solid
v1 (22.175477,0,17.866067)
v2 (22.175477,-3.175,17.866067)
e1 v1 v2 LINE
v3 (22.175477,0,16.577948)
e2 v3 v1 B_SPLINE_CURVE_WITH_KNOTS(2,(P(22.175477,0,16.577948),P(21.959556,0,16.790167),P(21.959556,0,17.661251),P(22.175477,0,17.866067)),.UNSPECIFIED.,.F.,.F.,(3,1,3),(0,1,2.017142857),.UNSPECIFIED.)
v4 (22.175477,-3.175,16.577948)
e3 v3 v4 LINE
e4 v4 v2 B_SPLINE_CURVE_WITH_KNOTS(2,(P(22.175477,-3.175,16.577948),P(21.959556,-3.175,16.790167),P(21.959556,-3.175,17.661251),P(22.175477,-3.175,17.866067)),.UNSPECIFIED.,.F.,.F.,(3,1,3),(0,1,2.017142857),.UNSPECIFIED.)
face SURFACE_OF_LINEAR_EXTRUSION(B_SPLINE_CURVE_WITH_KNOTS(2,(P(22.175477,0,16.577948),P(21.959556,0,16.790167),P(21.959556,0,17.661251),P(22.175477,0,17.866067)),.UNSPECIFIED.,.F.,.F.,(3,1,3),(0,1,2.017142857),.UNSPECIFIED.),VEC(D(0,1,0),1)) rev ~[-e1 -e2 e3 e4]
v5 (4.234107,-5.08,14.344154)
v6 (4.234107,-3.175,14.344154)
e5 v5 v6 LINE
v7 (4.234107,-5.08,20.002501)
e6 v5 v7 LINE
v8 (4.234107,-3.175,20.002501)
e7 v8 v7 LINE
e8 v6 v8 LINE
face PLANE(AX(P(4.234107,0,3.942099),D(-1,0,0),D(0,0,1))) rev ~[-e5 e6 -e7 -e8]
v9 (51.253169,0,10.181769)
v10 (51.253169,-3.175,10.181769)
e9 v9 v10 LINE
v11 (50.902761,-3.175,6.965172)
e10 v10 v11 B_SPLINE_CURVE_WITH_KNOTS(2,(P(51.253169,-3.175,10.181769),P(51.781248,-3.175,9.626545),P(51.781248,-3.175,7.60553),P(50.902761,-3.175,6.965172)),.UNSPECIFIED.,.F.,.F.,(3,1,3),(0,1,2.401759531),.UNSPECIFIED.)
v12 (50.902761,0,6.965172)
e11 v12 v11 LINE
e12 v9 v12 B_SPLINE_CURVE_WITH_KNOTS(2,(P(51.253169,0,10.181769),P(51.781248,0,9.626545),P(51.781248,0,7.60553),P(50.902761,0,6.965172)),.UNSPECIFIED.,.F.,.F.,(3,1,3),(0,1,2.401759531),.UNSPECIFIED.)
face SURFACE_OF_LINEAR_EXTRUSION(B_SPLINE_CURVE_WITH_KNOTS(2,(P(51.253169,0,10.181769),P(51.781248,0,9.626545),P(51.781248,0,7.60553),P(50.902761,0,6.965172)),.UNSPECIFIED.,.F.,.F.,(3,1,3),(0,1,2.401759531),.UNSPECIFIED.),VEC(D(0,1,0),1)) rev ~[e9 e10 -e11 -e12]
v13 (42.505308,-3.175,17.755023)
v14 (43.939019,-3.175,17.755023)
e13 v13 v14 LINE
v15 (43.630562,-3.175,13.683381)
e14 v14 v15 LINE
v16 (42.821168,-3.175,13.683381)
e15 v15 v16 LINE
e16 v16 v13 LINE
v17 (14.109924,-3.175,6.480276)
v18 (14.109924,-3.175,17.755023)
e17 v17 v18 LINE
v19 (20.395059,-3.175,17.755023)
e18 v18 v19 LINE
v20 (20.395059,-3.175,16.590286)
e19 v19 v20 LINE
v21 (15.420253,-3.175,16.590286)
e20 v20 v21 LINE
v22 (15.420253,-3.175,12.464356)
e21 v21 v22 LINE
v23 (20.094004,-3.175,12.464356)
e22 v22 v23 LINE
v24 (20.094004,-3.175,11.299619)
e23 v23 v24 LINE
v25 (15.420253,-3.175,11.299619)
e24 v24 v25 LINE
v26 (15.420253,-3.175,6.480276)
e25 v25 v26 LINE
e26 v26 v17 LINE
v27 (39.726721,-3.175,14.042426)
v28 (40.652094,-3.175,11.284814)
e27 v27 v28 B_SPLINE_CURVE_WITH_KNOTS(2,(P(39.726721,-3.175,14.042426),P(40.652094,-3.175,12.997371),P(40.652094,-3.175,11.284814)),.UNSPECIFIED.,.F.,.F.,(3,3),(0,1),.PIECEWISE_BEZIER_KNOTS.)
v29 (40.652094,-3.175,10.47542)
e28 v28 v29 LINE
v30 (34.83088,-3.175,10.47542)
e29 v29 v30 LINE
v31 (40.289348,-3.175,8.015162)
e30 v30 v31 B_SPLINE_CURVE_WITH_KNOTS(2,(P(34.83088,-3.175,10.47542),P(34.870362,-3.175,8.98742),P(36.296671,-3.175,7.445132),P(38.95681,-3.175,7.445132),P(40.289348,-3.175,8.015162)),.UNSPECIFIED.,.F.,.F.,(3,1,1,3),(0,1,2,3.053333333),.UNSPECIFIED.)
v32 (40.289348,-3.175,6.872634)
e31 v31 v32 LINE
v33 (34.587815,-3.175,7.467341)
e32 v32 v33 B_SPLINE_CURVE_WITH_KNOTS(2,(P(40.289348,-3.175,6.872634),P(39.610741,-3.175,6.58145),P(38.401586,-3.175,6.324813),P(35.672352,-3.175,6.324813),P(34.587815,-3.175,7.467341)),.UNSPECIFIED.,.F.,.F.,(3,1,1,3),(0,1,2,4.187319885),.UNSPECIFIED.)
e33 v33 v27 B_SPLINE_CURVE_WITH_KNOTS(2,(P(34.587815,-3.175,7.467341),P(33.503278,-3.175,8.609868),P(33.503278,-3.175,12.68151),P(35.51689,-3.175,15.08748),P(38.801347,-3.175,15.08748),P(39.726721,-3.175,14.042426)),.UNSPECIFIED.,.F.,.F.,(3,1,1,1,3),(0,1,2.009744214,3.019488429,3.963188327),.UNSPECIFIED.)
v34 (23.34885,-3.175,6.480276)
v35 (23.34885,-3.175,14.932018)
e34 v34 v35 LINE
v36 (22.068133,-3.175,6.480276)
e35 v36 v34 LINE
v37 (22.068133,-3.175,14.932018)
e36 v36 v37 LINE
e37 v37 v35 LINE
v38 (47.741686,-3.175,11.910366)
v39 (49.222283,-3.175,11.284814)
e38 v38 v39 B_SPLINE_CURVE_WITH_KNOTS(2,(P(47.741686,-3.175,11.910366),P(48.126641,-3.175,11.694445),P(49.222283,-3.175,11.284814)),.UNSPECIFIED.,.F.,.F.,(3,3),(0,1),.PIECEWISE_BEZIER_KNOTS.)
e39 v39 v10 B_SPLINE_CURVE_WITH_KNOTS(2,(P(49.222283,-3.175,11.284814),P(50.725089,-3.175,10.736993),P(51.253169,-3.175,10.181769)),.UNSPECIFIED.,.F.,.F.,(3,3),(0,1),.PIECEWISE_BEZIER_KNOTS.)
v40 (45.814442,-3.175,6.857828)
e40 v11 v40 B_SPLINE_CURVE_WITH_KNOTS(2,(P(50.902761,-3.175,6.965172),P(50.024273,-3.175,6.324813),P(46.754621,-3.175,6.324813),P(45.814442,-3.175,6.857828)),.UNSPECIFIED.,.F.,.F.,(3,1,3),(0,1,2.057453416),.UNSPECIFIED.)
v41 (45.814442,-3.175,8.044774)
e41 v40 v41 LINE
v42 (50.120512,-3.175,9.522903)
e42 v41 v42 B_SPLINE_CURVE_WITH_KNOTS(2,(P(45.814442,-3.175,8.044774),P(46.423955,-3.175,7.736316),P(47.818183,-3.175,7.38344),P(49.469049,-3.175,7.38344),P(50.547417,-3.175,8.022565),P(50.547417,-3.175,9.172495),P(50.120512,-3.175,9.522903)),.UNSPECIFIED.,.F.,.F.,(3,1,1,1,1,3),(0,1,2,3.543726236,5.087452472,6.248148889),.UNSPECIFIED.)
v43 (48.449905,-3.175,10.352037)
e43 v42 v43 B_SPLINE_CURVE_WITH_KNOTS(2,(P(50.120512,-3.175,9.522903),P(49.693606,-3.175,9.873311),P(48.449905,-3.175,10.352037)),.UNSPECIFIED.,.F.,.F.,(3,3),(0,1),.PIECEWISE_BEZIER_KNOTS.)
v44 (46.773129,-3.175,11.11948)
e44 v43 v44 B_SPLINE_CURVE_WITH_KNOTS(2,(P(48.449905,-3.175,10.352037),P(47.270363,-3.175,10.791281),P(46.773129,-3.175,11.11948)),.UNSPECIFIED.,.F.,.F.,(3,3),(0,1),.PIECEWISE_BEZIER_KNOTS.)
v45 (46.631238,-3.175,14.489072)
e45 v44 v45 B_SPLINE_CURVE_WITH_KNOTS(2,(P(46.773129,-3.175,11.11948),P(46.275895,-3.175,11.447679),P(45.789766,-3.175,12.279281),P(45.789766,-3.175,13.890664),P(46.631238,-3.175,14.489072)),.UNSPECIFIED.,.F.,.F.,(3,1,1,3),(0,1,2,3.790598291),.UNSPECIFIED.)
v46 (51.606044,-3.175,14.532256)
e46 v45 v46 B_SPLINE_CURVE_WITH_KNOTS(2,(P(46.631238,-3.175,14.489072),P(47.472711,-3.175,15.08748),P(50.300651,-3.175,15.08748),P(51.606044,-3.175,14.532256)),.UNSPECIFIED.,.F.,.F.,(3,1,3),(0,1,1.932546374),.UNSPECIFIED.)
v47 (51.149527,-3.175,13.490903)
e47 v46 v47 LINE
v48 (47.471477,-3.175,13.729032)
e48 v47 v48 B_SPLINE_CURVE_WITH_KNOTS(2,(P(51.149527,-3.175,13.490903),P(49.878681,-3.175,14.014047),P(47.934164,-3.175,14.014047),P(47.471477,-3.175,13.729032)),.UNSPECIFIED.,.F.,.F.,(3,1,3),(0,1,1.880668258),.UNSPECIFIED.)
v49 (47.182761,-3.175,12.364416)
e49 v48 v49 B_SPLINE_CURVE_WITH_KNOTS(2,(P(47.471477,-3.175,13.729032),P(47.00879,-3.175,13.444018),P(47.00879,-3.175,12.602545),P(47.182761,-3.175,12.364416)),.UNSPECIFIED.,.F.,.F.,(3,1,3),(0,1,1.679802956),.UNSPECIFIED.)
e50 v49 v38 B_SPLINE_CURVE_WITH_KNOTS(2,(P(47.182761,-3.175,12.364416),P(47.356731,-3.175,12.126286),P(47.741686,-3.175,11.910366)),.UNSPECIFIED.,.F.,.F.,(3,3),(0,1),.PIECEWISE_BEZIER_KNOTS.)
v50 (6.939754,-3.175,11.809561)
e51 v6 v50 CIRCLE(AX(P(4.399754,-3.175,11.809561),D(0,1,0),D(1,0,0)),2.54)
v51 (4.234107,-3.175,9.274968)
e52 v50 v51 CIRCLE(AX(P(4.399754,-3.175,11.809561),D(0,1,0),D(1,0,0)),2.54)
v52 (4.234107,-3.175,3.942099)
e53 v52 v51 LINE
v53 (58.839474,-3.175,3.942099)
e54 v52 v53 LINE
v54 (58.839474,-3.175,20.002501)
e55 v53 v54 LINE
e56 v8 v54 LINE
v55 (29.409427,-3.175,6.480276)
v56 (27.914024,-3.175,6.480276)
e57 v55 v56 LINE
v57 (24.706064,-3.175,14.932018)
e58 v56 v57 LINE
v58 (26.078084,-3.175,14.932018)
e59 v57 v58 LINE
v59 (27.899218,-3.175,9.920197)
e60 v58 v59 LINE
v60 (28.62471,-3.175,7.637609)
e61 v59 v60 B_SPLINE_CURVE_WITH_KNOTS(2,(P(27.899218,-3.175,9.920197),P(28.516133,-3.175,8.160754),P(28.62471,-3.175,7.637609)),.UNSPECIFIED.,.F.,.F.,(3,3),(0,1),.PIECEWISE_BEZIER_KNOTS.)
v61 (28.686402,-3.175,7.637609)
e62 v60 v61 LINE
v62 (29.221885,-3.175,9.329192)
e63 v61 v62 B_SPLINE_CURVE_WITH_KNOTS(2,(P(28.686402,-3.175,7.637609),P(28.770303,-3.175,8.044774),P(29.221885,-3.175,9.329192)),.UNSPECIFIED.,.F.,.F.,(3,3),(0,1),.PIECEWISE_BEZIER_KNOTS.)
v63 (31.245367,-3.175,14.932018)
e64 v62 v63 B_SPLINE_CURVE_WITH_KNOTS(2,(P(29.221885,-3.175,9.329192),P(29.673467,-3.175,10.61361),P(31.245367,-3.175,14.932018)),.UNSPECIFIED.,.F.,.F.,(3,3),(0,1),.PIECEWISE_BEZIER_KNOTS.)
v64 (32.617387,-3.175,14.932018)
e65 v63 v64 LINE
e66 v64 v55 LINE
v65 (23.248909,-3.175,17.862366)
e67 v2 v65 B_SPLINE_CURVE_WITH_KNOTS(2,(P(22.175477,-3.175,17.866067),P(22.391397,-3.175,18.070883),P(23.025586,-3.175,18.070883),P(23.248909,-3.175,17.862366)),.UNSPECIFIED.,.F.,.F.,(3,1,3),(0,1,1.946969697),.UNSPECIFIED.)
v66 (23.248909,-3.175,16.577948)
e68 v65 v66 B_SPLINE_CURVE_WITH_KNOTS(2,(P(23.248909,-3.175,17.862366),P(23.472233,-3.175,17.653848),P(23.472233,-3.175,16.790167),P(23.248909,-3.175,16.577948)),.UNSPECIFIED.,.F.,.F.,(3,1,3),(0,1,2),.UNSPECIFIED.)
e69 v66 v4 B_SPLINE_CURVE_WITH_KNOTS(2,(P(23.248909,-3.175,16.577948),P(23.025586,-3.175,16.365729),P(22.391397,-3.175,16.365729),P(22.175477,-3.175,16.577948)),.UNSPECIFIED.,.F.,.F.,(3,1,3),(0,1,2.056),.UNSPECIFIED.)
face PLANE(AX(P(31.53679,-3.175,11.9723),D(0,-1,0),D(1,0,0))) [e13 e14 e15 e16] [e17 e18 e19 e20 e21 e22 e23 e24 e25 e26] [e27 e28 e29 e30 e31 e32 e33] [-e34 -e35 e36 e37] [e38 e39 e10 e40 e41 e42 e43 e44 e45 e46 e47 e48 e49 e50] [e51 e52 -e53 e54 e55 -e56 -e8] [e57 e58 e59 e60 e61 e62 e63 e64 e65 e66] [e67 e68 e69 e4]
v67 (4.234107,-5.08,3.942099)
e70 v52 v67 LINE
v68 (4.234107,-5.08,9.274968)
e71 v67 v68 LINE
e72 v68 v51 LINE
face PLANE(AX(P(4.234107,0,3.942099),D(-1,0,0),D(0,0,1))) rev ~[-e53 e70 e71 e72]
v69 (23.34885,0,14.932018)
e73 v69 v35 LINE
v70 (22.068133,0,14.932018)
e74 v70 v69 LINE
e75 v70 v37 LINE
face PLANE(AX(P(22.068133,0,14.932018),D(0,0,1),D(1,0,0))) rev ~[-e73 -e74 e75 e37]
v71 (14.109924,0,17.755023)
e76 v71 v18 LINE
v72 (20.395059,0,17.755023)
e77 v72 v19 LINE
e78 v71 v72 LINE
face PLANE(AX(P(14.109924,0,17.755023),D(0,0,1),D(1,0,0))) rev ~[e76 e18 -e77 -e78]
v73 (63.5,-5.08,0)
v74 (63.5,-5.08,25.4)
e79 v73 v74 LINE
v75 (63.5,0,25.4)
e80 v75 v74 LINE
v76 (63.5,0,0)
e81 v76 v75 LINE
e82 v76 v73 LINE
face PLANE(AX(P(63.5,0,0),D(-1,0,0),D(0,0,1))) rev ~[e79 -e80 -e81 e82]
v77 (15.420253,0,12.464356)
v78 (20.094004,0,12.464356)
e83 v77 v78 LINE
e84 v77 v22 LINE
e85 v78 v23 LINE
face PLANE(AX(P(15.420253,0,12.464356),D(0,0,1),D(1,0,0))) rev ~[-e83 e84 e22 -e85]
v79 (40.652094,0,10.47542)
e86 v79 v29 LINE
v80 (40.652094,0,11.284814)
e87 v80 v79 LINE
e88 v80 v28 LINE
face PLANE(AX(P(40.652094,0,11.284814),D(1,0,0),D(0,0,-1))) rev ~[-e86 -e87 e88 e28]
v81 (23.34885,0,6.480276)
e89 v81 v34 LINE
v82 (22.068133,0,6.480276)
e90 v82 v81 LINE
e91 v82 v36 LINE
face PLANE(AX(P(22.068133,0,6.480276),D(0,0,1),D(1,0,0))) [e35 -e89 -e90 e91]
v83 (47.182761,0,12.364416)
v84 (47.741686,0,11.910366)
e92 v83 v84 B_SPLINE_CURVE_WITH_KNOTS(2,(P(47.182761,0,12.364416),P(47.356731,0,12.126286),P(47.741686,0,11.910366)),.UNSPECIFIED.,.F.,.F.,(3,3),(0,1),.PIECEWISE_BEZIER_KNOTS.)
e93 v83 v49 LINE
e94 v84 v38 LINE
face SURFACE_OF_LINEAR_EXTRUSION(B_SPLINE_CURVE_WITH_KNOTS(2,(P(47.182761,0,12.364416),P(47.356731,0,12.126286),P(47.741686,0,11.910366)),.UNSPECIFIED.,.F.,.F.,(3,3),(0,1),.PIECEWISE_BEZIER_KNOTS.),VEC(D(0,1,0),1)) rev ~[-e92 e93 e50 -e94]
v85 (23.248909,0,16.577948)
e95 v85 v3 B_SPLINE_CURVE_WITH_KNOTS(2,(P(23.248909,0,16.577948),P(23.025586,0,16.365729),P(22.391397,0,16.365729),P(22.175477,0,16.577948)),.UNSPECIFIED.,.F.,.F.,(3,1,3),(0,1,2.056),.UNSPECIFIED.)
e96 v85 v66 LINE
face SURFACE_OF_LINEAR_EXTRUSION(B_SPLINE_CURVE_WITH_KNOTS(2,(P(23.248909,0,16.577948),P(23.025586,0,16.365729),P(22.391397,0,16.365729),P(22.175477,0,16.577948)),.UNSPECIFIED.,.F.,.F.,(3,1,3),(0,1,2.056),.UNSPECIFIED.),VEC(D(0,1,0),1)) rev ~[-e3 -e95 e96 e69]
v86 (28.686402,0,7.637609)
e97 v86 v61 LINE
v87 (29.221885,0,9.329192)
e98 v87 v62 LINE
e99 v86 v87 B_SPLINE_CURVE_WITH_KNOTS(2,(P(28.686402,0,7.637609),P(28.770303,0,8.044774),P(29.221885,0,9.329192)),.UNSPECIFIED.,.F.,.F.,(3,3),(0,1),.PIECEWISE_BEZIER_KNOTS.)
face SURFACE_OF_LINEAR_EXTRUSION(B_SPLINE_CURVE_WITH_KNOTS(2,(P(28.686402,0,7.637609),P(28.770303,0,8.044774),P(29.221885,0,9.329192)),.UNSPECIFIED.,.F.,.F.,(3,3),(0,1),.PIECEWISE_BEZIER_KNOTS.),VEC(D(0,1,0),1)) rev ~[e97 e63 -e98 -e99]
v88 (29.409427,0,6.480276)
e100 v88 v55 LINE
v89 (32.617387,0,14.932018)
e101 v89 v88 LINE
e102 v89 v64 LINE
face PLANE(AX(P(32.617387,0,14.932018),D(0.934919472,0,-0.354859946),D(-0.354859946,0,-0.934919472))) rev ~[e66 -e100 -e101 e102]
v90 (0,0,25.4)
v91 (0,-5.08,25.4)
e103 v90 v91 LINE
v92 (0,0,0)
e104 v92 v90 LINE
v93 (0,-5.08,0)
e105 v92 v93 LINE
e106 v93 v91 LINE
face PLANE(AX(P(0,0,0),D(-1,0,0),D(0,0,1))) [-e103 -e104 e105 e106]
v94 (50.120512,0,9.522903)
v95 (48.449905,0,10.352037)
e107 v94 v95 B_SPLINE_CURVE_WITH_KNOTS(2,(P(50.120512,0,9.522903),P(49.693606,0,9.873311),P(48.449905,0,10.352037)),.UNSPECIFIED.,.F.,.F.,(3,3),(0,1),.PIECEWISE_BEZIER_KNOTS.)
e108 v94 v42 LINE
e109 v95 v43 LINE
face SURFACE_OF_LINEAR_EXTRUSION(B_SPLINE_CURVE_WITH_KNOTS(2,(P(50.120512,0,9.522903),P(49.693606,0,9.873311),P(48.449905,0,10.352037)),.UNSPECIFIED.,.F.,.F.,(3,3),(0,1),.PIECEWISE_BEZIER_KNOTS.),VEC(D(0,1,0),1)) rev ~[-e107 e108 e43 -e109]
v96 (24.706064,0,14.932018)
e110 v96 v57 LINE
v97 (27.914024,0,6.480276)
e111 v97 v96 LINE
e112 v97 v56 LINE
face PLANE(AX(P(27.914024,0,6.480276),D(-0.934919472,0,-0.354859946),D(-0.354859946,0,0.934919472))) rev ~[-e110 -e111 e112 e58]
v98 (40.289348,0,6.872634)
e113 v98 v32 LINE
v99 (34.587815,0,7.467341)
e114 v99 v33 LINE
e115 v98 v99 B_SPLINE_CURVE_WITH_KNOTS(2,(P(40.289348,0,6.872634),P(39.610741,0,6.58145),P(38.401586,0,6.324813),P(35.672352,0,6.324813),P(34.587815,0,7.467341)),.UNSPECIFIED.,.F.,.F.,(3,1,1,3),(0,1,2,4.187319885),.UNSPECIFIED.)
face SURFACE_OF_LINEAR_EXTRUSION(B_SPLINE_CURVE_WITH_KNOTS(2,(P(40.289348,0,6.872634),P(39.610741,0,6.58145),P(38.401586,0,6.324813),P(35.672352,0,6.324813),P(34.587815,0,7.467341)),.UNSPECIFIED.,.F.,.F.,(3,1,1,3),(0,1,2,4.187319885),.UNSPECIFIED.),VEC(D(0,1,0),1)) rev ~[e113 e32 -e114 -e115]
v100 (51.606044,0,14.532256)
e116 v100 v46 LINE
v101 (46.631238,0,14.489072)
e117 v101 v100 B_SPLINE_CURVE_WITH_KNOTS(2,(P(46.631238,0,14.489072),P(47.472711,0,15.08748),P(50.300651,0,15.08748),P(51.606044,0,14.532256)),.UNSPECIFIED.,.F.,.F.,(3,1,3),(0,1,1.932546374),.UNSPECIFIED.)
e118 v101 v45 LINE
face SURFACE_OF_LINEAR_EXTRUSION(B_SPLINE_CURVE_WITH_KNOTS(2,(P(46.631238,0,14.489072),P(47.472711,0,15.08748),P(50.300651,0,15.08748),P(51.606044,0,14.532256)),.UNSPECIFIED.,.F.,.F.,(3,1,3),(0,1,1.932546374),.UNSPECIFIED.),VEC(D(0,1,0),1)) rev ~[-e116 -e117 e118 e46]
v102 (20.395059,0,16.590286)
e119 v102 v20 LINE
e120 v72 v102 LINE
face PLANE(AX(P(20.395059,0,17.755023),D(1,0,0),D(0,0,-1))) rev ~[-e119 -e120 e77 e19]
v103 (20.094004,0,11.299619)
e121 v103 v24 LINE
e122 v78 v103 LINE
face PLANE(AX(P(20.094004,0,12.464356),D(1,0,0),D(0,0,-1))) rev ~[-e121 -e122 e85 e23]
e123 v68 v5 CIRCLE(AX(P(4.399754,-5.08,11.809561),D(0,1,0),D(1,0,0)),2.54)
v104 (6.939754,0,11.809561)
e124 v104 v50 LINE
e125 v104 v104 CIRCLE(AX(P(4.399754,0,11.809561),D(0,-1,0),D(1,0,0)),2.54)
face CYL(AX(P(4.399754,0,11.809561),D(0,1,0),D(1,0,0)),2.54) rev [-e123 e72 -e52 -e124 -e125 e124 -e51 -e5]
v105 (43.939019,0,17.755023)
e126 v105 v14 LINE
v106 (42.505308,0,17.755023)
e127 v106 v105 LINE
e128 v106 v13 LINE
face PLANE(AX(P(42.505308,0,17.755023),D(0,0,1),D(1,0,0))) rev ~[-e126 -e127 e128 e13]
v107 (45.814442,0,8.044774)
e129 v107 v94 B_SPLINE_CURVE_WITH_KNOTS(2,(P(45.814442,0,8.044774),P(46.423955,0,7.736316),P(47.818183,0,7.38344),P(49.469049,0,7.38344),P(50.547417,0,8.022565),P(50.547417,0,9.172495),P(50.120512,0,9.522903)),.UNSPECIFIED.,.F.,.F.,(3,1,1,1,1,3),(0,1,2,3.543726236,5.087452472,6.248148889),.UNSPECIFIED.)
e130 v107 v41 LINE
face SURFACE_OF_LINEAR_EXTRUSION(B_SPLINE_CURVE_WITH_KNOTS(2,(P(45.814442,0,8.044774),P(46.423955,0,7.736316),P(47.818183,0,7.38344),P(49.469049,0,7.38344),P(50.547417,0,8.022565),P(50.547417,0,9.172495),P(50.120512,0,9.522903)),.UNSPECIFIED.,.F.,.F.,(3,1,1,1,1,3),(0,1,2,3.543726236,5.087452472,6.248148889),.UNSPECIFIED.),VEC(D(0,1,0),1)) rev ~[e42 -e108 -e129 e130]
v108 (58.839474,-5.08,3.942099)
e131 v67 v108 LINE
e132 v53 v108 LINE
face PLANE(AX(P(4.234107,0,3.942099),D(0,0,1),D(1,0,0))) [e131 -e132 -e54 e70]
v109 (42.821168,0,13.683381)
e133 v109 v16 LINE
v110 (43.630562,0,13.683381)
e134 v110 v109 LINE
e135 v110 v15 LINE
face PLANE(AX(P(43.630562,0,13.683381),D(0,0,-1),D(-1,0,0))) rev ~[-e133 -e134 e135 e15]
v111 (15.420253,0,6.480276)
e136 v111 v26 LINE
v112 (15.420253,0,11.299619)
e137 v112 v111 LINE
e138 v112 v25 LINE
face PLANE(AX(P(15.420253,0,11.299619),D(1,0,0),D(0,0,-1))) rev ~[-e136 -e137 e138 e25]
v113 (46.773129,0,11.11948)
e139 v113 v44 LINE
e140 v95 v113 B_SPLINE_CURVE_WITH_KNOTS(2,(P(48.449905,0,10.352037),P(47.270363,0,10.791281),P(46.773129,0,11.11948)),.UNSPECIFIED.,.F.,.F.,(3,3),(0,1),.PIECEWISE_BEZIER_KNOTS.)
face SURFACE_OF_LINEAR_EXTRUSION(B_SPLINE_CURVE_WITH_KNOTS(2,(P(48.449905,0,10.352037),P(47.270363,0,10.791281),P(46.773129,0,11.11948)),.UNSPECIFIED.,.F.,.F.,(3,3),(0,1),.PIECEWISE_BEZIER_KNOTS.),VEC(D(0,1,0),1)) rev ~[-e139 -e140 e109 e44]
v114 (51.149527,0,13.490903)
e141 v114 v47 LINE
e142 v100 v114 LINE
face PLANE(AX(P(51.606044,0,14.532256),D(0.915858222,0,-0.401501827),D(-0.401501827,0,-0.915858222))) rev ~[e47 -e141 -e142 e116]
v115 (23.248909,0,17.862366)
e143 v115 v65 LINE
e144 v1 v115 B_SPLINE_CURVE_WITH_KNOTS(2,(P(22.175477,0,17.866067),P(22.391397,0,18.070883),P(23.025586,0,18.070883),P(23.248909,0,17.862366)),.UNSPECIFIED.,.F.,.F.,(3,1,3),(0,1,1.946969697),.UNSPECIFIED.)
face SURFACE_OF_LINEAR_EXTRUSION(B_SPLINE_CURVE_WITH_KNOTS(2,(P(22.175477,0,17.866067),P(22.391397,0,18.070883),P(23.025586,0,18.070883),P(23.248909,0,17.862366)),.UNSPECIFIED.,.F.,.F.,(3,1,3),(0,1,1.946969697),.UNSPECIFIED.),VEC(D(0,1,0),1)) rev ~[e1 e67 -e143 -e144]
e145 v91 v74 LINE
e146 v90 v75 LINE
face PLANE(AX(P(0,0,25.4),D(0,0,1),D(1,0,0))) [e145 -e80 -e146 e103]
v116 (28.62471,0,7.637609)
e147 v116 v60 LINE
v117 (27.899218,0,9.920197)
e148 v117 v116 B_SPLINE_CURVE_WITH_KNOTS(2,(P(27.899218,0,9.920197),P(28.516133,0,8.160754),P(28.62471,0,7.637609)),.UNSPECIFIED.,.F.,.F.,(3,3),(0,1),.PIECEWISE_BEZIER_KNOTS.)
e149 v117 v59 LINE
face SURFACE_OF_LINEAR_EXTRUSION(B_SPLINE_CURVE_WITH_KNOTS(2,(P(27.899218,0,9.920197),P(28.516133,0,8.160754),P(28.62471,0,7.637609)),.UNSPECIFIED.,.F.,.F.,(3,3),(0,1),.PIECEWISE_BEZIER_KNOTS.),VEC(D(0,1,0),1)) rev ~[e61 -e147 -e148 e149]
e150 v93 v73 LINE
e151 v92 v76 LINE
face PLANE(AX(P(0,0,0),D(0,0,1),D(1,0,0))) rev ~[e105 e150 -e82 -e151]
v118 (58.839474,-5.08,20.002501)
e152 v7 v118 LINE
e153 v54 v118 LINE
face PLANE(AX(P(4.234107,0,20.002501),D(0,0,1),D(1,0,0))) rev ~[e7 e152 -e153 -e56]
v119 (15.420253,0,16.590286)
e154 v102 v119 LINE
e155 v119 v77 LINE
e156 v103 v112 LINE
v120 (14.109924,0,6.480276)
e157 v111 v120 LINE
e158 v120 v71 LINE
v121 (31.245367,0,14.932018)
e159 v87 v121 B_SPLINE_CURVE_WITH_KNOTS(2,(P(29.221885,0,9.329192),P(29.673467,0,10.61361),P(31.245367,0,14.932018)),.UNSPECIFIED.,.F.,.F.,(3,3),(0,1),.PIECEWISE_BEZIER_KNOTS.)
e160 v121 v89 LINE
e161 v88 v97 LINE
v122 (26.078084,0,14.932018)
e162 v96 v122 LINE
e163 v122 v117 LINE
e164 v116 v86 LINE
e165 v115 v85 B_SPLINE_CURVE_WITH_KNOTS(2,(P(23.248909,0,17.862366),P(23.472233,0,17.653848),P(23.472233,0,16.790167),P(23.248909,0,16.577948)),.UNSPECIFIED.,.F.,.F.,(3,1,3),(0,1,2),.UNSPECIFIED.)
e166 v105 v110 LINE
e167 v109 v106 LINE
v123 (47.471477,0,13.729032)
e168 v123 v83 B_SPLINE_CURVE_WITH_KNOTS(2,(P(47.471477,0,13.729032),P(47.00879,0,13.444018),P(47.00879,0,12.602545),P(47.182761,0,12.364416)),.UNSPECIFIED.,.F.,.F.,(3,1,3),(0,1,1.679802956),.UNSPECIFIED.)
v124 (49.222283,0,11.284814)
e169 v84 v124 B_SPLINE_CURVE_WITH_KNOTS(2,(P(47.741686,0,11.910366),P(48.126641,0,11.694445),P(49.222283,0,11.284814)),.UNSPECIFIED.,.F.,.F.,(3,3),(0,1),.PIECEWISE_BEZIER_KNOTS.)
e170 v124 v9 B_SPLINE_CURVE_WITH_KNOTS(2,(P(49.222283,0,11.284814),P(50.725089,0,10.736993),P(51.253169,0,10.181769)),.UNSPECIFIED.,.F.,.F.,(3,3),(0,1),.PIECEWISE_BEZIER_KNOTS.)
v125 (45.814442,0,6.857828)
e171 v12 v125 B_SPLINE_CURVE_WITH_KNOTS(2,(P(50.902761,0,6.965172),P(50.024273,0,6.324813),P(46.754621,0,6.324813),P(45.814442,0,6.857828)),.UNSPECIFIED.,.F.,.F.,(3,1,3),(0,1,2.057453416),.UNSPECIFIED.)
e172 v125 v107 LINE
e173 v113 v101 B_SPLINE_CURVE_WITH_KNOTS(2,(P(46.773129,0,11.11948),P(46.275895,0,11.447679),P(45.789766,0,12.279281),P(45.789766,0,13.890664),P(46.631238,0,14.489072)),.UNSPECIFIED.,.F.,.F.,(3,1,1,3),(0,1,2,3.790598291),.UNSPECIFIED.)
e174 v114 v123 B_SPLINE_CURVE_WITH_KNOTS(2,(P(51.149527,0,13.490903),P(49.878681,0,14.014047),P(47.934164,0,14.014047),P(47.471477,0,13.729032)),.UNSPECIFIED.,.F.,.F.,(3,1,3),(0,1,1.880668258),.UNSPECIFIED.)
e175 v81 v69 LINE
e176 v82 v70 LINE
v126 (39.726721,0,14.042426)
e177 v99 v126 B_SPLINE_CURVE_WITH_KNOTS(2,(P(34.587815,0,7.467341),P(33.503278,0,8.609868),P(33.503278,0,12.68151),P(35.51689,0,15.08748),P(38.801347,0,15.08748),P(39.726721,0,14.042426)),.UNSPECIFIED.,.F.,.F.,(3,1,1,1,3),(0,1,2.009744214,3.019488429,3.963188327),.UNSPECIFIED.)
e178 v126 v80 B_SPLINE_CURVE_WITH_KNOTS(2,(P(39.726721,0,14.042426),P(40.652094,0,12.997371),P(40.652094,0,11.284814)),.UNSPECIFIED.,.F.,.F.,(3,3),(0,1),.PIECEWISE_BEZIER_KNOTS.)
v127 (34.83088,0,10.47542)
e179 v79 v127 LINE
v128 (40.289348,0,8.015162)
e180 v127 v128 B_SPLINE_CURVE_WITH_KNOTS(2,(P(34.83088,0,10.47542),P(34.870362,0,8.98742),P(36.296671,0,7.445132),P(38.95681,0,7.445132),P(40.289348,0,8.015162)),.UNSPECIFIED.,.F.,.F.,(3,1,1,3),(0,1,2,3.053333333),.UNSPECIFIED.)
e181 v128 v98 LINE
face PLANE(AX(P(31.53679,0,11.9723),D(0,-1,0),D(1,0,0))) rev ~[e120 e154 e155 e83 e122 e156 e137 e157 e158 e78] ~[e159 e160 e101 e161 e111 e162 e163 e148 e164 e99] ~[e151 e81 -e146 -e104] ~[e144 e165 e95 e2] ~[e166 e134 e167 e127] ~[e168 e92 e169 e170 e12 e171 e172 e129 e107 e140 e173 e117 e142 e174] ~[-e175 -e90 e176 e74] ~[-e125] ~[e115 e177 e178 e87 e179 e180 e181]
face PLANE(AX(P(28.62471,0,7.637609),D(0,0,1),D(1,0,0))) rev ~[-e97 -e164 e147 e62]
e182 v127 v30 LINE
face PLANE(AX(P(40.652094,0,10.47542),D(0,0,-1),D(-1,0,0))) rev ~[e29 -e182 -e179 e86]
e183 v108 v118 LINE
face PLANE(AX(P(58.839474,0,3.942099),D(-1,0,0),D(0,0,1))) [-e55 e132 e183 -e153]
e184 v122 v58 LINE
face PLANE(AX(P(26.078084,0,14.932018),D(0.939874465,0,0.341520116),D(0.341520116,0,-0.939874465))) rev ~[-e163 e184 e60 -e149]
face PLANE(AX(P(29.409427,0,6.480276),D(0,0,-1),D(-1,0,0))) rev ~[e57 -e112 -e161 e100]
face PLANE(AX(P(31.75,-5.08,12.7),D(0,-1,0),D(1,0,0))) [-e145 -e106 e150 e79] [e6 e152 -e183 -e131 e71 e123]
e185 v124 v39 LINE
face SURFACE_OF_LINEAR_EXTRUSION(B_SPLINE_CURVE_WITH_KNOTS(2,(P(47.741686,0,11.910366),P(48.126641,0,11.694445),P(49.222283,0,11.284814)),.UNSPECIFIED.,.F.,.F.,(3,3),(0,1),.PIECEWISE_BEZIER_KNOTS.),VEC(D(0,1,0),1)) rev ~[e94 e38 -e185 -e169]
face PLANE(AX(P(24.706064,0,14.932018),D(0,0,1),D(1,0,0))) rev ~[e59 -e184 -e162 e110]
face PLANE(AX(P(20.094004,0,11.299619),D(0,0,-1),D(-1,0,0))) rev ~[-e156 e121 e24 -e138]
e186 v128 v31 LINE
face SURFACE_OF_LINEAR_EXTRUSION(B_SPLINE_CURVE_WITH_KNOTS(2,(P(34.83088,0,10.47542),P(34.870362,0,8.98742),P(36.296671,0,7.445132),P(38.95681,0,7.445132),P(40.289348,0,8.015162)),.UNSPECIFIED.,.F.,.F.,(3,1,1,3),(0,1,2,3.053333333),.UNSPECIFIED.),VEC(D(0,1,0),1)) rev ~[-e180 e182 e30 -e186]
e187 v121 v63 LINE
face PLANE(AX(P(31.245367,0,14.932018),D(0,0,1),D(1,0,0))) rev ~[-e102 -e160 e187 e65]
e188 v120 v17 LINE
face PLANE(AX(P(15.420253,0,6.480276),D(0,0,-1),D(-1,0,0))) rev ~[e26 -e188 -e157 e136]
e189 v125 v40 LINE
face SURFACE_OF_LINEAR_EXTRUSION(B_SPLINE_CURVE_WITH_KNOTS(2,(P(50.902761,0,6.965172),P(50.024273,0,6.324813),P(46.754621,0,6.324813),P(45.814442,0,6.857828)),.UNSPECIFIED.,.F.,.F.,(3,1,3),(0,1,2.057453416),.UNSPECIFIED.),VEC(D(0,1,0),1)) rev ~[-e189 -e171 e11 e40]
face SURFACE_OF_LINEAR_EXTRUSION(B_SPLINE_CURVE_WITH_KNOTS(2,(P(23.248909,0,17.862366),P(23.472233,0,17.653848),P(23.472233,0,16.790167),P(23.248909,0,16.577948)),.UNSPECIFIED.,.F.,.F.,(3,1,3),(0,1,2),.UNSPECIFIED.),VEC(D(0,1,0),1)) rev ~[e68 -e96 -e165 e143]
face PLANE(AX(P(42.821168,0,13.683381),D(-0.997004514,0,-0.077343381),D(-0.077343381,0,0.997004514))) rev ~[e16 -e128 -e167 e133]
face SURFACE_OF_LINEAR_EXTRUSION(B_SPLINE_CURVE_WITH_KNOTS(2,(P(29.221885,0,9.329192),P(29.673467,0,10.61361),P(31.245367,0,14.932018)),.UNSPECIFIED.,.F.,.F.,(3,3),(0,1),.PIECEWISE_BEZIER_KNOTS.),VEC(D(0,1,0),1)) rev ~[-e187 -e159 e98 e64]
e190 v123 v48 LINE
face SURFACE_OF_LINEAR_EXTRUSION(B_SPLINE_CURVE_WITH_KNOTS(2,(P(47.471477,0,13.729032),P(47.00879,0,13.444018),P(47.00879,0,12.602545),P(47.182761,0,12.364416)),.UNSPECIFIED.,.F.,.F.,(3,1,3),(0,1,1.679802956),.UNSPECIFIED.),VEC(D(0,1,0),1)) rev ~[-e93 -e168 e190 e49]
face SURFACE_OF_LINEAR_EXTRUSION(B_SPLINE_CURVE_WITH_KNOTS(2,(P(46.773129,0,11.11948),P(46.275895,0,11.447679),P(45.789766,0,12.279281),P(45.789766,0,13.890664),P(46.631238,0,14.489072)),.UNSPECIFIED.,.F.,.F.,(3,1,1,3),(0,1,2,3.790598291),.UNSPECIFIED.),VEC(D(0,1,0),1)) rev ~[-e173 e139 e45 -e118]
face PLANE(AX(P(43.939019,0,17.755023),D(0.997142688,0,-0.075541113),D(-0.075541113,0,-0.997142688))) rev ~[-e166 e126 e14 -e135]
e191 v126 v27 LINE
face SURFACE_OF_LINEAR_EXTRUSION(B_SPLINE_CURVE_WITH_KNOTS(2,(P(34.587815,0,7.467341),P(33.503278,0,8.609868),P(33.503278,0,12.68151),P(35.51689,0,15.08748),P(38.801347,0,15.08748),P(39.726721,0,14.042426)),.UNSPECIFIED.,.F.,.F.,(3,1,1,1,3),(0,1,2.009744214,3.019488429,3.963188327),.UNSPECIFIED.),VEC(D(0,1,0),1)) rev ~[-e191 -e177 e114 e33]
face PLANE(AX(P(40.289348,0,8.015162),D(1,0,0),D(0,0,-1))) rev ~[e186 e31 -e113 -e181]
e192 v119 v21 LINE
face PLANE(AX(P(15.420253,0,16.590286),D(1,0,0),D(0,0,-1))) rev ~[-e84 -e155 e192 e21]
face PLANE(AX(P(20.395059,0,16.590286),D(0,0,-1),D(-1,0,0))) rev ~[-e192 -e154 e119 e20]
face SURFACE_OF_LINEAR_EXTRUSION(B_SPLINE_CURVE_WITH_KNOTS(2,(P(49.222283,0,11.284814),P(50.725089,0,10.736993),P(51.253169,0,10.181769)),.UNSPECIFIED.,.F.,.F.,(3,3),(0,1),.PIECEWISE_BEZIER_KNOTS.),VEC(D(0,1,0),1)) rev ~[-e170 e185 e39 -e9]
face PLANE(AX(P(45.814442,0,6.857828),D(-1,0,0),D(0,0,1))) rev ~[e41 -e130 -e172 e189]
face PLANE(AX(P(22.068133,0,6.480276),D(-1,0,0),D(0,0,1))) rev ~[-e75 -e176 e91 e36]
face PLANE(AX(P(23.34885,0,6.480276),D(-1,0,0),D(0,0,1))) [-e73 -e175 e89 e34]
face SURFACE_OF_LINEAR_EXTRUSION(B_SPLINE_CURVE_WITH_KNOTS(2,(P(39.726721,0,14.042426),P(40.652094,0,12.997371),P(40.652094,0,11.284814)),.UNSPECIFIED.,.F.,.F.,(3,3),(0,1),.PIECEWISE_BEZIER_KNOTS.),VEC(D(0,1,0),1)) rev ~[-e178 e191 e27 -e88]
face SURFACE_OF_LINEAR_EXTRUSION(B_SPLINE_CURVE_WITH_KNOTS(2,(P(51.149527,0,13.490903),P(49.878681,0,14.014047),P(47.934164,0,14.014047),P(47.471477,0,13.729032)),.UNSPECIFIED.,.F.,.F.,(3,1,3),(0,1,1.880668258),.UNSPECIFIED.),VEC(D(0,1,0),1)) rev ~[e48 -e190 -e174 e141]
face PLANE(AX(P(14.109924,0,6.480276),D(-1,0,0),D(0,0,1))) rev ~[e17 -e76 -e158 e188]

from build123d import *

# Parameters (mm, degrees)
F0_W     = 63.5
F0_H     = 25.4
F0_W_2   = 54.6053671278
F0_H_2   = 16.0604021512
F1_DEPTH = 5.08
F0_W_3   = 1.2807164436
F0_H_3   = 8.4517414633
F2_DEPTH = 3.175
F3_R     = 2.54
F4_DEPTH = 25.4
F5_DEPTH = 3.175


with BuildPart() as f1:
    # F0 (on Front) → F1 (new body)
    with BuildSketch(Plane.XZ):
        with Locations((31.75, 12.7)):
            Rectangle(F0_W, F0_H)
        with Locations((31.5367903095, 11.9723000098)):
            Rectangle(F0_W_2, F0_H_2, mode=Mode.SUBTRACT)
    extrude(amount=F1_DEPTH)

    # F0 (on Front) → F2 (join)
    with BuildSketch(Plane.XZ):
        with Locations((31.5367903095, 11.9723000098)):
            Rectangle(F0_W_2, F0_H_2)
        with Locations((22.7084914528, 10.7061468506)):
            Rectangle(F0_W_3, F0_H_3, mode=Mode.SUBTRACT)
        Polygon((15.4202525004, 11.2996194994), (15.4202525004, 6.480276119), (14.1099241159, 6.480276119), (14.1099241159, 17.7550226141), (20.3950585705, 17.7550226141), (20.3950585705, 16.5902862723), (15.4202525004, 16.5902862723), (15.4202525004, 12.4643558412), (20.0940038381, 12.4643558412), (20.0940038381, 11.2996194994), align=None, mode=Mode.SUBTRACT)
        with BuildLine():
            Line((29.4094269108, 6.480276119), (27.9140238957, 6.480276119))
            Line((27.9140238957, 6.480276119), (24.7060636322, 14.9320175823))
            Line((24.7060636322, 14.9320175823), (26.0780835603, 14.9320175823))
            Line((26.0780835603, 14.9320175823), (27.8992179252, 9.9201965861))
            add(Edge.make_bspline(
                [(27.8992179252, 9.9201965861), (28.5161333605, 8.1607537647), (28.6247104771, 7.6376094755)],
                knots=[0, 0, 0, 1, 1, 1], degree=2))
            Line((28.6247104771, 7.6376094755), (28.6864020207, 7.6376094755))
            add(Edge.make_bspline(
                [(28.6864020207, 7.6376094755), (28.7703025199, 8.0447736628), (29.2218846185, 9.3291915991)],
                knots=[0, 0, 0, 1, 1, 1], degree=2))
            add(Edge.make_bspline(
                [(29.2218846185, 9.3291915991), (29.6734667171, 10.6136095353), (31.2453672462, 14.9320175823)],
                knots=[0, 0, 0, 1, 1, 1], degree=2))
            Line((31.2453672462, 14.9320175823), (32.6173871743, 14.9320175823))
            Line((32.6173871743, 14.9320175823), (29.4094269108, 6.480276119))
        make_face(mode=Mode.SUBTRACT)
        with BuildLine():
            add(Edge.make_bspline(
                [(39.006163422, 6.4531318398), (38.4015862954, 6.3248134293), (37.5453076713, 6.3248134293)],
                knots=[0, 0, 0, 1, 1, 1], degree=2))
            add(Edge.make_bspline(
                [(37.5453076713, 6.3248134293), (35.6723524098, 6.3248134293), (34.5878150745, 7.4673408154)],
                knots=[0, 0, 0, 1, 1, 1], degree=2))
            add(Edge.make_bspline(
                [(34.5878150745, 7.4673408154), (33.5032777393, 8.6098682015), (33.5032777393, 10.635818491)],
                knots=[0, 0, 0, 1, 1, 1], degree=2))
            add(Edge.make_bspline(
                [(33.5032777393, 10.635818491), (33.5032777393, 12.6815100744), (34.5100837297, 13.8844951732)],
                knots=[0, 0, 0, 1, 1, 1], degree=2))
            add(Edge.make_bspline(
                [(34.5100837297, 13.8844951732), (35.5168897201, 15.087480272), (37.214640998, 15.087480272)],
                knots=[0, 0, 0, 1, 1, 1], degree=2))
            add(Edge.make_bspline(
                [(37.214640998, 15.087480272), (38.8013474975, 15.087480272), (39.7267206504, 14.0424255246)],
                knots=[0, 0, 0, 1, 1, 1], degree=2))
            add(Edge.make_bspline(
                [(39.7267206504, 14.0424255246), (40.6520938033, 12.9973707773), (40.6520938033, 11.2848135289)],
                knots=[0, 0, 0, 1, 1, 1], degree=2))
            Line((40.6520938033, 11.2848135289), (40.6520938033, 10.4754204778))
            Line((40.6520938033, 10.4754204778), (34.830879756, 10.4754204778))
            add(Edge.make_bspline(
                [(34.830879756, 10.4754204778), (34.8703623439, 8.9874204479), (35.5835165871, 8.2162761538)],
                knots=[0, 0, 0, 1, 1, 1], degree=2))
            add(Edge.make_bspline(
                [(35.5835165871, 8.2162761538), (36.2966708303, 7.4451318597), (37.5921932444, 7.4451318597)],
                knots=[0, 0, 0, 1, 1, 1], degree=2))
            add(Edge.make_bspline(
                [(37.5921932444, 7.4451318597), (38.9568101872, 7.4451318597), (40.2893475274, 8.0151617219)],
                knots=[0, 0, 0, 1, 1, 1], degree=2))
            Line((40.2893475274, 8.0151617219), (40.2893475274, 6.8726343358))
            add(Edge.make_bspline(
                [(40.2893475274, 6.8726343358), (39.6107405486, 6.5814502503), (39.006163422, 6.4531318398)],
                knots=[0, 0, 0, 1, 1, 1], degree=2))
        make_face(mode=Mode.SUBTRACT)
        with BuildLine():
            add(Edge.make_bspline(
                [(51.2531686432, 10.1817687306), (51.7812482558, 9.6265448389), (51.7812482558, 8.7850721852)],
                knots=[0, 0, 0, 1, 1, 1], degree=2))
            add(Edge.make_bspline(
                [(51.7812482558, 8.7850721852), (51.7812482558, 7.6055298729), (50.902760676, 6.9651716511)],
                knots=[0, 0, 0, 1, 1, 1], degree=2))
            add(Edge.make_bspline(
                [(50.902760676, 6.9651716511), (50.0242730961, 6.3248134293), (48.4350989348, 6.3248134293)],
                knots=[0, 0, 0, 1, 1, 1], degree=2))
            add(Edge.make_bspline(
                [(48.4350989348, 6.3248134293), (46.7546212891, 6.3248134293), (45.8144421658, 6.8578283654)],
                knots=[0, 0, 0, 1, 1, 1], degree=2))
            Line((45.8144421658, 6.8578283654), (45.8144421658, 8.0447736628))
            add(Edge.make_bspline(
                [(45.8144421658, 8.0447736628), (46.4239546158, 7.7363159452), (47.1210690577, 7.5598781307)],
                knots=[0, 0, 0, 1, 1, 1], degree=2))
            add(Edge.make_bspline(
                [(47.1210690577, 7.5598781307), (47.8181834996, 7.3834403162), (48.4671785375, 7.3834403162)],
                knots=[0, 0, 0, 1, 1, 1], degree=2))
            add(Edge.make_bspline(
                [(48.4671785375, 7.3834403162), (49.4690492044, 7.3834403162), (50.0082332948, 7.7030025117)],
                knots=[0, 0, 0, 1, 1, 1], degree=2))
            add(Edge.make_bspline(
                [(50.0082332948, 7.7030025117), (50.5474173852, 8.0225647072), (50.5474173852, 8.6789627303)],
                knots=[0, 0, 0, 1, 1, 1], degree=2))
            add(Edge.make_bspline(
                [(50.5474173852, 8.6789627303), (50.5474173852, 9.1724950785), (50.120511904, 9.5229030458)],
                knots=[0, 0, 0, 1, 1, 1], degree=2))
            add(Edge.make_bspline(
                [(50.120511904, 9.5229030458), (49.6936064228, 9.873311013), (48.4499049053, 10.3520373908)],
                knots=[0, 0, 0, 1, 1, 1], degree=2))
            add(Edge.make_bspline(
                [(48.4499049053, 10.3520373908), (47.270362593, 10.7912811807), (46.7731287522, 11.1194801923)],
                knots=[0, 0, 0, 1, 1, 1], degree=2))
            add(Edge.make_bspline(
                [(46.7731287522, 11.1194801923), (46.2758949114, 11.4476792038), (46.0328302299, 11.8634802072)],
                knots=[0, 0, 0, 1, 1, 1], degree=2))
            add(Edge.make_bspline(
                [(46.0328302299, 11.8634802072), (45.7897655484, 12.2792812106), (45.7897655484, 12.856714058)],
                knots=[0, 0, 0, 1, 1, 1], degree=2))
            add(Edge.make_bspline(
                [(45.7897655484, 12.856714058), (45.7897655484, 13.8906643275), (46.6312382021, 14.4890722998)],
                knots=[0, 0, 0, 1, 1, 1], degree=2))
            add(Edge.make_bspline(
                [(46.6312382021, 14.4890722998), (47.4727108558, 15.087480272), (48.9360342683, 15.087480272)],
                knots=[0, 0, 0, 1, 1, 1], degree=2))
            add(Edge.make_bspline(
                [(48.9360342683, 15.087480272), (50.3006512111, 15.087480272), (51.6060442722, 14.5322563802)],
                knots=[0, 0, 0, 1, 1, 1], degree=2))
            Line((51.6060442722, 14.5322563802), (51.1495268501, 13.4909031255))
            add(Edge.make_bspline(
                [(51.1495268501, 13.4909031255), (49.8786810534, 14.0140474146), (48.8447307839, 14.0140474146)],
                knots=[0, 0, 0, 1, 1, 1], degree=2))
            add(Edge.make_bspline(
                [(48.8447307839, 14.0140474146), (47.9341636014, 14.0140474146), (47.4714770249, 13.7290324835)],
                knots=[0, 0, 0, 1, 1, 1], degree=2))
            add(Edge.make_bspline(
                [(47.4714770249, 13.7290324835), (47.0087904485, 13.4440175524), (47.0087904485, 12.943082219)],
                knots=[0, 0, 0, 1, 1, 1], degree=2))
            add(Edge.make_bspline(
                [(47.0087904485, 12.943082219), (47.0087904485, 12.6025448987), (47.1827606012, 12.3644155407)],
                knots=[0, 0, 0, 1, 1, 1], degree=2))
            add(Edge.make_bspline(
                [(47.1827606012, 12.3644155407), (47.356730754, 12.1262861826), (47.7416859856, 11.9103657803)],
                knots=[0, 0, 0, 1, 1, 1], degree=2))
            add(Edge.make_bspline(
                [(47.7416859856, 11.9103657803), (48.1266412172, 11.6944453779), (49.2222830303, 11.2848135289)],
                knots=[0, 0, 0, 1, 1, 1], degree=2))
            add(Edge.make_bspline(
                [(49.2222830303, 11.2848135289), (50.7250890306, 10.7369926224), (51.2531686432, 10.1817687306)],
                knots=[0, 0, 0, 1, 1, 1], degree=2))
        make_face(mode=Mode.SUBTRACT)
        with BuildLine():
            add(Edge.make_bspline(
                [(22.1754765167, 16.5779479636), (21.9595561144, 16.7901668734), (21.9595561144, 17.2220076781)],
                knots=[0, 0, 0, 1, 1, 1], degree=2))
            add(Edge.make_bspline(
                [(21.9595561144, 17.2220076781), (21.9595561144, 17.661251468), (22.1754765167, 17.8660673925)],
                knots=[0, 0, 0, 1, 1, 1], degree=2))
            add(Edge.make_bspline(
                [(22.1754765167, 17.8660673925), (22.3913969191, 18.070883317), (22.7171282689, 18.070883317)],
                knots=[0, 0, 0, 1, 1, 1], degree=2))
            add(Edge.make_bspline(
                [(22.7171282689, 18.070883317), (23.0255859865, 18.070883317), (23.2489093741, 17.8623658999)],
                knots=[0, 0, 0, 1, 1, 1], degree=2))
            add(Edge.make_bspline(
                [(23.2489093741, 17.8623658999), (23.4722327617, 17.6538484827), (23.4722327617, 17.2220076781)],
                knots=[0, 0, 0, 1, 1, 1], degree=2))
            add(Edge.make_bspline(
                [(23.4722327617, 17.2220076781), (23.4722327617, 16.7901668734), (23.2489093741, 16.5779479636)],
                knots=[0, 0, 0, 1, 1, 1], degree=2))
            add(Edge.make_bspline(
                [(23.2489093741, 16.5779479636), (23.0255859865, 16.3657290539), (22.7171282689, 16.3657290539)],
                knots=[0, 0, 0, 1, 1, 1], degree=2))
            add(Edge.make_bspline(
                [(22.7171282689, 16.3657290539), (22.3913969191, 16.3657290539), (22.1754765167, 16.5779479636)],
                knots=[0, 0, 0, 1, 1, 1], degree=2))
        make_face(mode=Mode.SUBTRACT)
        Polygon((42.5053077709, 17.7550226141), (43.9390192425, 17.7550226141), (43.6305615249, 13.6833807413), (42.8211684738, 13.6833807413), align=None, mode=Mode.SUBTRACT)
    extrude(amount=F2_DEPTH)

    # F3 (on Front) → F4 (cut)
    with BuildSketch(Plane.XZ):
        with Locations((4.3997538427, 11.8095606944)):
            Circle(F3_R)
    extrude(amount=F4_DEPTH, mode=Mode.SUBTRACT)

    # F5 (add): a face of the model
    f5_faces = [f1.faces().sort_by_distance(p)[0] for p in [
        (31.8480546153, -3.175, 12.0163754406),
    ]]
    extrude(f5_faces, amount=-F5_DEPTH)


solid = f1.part
